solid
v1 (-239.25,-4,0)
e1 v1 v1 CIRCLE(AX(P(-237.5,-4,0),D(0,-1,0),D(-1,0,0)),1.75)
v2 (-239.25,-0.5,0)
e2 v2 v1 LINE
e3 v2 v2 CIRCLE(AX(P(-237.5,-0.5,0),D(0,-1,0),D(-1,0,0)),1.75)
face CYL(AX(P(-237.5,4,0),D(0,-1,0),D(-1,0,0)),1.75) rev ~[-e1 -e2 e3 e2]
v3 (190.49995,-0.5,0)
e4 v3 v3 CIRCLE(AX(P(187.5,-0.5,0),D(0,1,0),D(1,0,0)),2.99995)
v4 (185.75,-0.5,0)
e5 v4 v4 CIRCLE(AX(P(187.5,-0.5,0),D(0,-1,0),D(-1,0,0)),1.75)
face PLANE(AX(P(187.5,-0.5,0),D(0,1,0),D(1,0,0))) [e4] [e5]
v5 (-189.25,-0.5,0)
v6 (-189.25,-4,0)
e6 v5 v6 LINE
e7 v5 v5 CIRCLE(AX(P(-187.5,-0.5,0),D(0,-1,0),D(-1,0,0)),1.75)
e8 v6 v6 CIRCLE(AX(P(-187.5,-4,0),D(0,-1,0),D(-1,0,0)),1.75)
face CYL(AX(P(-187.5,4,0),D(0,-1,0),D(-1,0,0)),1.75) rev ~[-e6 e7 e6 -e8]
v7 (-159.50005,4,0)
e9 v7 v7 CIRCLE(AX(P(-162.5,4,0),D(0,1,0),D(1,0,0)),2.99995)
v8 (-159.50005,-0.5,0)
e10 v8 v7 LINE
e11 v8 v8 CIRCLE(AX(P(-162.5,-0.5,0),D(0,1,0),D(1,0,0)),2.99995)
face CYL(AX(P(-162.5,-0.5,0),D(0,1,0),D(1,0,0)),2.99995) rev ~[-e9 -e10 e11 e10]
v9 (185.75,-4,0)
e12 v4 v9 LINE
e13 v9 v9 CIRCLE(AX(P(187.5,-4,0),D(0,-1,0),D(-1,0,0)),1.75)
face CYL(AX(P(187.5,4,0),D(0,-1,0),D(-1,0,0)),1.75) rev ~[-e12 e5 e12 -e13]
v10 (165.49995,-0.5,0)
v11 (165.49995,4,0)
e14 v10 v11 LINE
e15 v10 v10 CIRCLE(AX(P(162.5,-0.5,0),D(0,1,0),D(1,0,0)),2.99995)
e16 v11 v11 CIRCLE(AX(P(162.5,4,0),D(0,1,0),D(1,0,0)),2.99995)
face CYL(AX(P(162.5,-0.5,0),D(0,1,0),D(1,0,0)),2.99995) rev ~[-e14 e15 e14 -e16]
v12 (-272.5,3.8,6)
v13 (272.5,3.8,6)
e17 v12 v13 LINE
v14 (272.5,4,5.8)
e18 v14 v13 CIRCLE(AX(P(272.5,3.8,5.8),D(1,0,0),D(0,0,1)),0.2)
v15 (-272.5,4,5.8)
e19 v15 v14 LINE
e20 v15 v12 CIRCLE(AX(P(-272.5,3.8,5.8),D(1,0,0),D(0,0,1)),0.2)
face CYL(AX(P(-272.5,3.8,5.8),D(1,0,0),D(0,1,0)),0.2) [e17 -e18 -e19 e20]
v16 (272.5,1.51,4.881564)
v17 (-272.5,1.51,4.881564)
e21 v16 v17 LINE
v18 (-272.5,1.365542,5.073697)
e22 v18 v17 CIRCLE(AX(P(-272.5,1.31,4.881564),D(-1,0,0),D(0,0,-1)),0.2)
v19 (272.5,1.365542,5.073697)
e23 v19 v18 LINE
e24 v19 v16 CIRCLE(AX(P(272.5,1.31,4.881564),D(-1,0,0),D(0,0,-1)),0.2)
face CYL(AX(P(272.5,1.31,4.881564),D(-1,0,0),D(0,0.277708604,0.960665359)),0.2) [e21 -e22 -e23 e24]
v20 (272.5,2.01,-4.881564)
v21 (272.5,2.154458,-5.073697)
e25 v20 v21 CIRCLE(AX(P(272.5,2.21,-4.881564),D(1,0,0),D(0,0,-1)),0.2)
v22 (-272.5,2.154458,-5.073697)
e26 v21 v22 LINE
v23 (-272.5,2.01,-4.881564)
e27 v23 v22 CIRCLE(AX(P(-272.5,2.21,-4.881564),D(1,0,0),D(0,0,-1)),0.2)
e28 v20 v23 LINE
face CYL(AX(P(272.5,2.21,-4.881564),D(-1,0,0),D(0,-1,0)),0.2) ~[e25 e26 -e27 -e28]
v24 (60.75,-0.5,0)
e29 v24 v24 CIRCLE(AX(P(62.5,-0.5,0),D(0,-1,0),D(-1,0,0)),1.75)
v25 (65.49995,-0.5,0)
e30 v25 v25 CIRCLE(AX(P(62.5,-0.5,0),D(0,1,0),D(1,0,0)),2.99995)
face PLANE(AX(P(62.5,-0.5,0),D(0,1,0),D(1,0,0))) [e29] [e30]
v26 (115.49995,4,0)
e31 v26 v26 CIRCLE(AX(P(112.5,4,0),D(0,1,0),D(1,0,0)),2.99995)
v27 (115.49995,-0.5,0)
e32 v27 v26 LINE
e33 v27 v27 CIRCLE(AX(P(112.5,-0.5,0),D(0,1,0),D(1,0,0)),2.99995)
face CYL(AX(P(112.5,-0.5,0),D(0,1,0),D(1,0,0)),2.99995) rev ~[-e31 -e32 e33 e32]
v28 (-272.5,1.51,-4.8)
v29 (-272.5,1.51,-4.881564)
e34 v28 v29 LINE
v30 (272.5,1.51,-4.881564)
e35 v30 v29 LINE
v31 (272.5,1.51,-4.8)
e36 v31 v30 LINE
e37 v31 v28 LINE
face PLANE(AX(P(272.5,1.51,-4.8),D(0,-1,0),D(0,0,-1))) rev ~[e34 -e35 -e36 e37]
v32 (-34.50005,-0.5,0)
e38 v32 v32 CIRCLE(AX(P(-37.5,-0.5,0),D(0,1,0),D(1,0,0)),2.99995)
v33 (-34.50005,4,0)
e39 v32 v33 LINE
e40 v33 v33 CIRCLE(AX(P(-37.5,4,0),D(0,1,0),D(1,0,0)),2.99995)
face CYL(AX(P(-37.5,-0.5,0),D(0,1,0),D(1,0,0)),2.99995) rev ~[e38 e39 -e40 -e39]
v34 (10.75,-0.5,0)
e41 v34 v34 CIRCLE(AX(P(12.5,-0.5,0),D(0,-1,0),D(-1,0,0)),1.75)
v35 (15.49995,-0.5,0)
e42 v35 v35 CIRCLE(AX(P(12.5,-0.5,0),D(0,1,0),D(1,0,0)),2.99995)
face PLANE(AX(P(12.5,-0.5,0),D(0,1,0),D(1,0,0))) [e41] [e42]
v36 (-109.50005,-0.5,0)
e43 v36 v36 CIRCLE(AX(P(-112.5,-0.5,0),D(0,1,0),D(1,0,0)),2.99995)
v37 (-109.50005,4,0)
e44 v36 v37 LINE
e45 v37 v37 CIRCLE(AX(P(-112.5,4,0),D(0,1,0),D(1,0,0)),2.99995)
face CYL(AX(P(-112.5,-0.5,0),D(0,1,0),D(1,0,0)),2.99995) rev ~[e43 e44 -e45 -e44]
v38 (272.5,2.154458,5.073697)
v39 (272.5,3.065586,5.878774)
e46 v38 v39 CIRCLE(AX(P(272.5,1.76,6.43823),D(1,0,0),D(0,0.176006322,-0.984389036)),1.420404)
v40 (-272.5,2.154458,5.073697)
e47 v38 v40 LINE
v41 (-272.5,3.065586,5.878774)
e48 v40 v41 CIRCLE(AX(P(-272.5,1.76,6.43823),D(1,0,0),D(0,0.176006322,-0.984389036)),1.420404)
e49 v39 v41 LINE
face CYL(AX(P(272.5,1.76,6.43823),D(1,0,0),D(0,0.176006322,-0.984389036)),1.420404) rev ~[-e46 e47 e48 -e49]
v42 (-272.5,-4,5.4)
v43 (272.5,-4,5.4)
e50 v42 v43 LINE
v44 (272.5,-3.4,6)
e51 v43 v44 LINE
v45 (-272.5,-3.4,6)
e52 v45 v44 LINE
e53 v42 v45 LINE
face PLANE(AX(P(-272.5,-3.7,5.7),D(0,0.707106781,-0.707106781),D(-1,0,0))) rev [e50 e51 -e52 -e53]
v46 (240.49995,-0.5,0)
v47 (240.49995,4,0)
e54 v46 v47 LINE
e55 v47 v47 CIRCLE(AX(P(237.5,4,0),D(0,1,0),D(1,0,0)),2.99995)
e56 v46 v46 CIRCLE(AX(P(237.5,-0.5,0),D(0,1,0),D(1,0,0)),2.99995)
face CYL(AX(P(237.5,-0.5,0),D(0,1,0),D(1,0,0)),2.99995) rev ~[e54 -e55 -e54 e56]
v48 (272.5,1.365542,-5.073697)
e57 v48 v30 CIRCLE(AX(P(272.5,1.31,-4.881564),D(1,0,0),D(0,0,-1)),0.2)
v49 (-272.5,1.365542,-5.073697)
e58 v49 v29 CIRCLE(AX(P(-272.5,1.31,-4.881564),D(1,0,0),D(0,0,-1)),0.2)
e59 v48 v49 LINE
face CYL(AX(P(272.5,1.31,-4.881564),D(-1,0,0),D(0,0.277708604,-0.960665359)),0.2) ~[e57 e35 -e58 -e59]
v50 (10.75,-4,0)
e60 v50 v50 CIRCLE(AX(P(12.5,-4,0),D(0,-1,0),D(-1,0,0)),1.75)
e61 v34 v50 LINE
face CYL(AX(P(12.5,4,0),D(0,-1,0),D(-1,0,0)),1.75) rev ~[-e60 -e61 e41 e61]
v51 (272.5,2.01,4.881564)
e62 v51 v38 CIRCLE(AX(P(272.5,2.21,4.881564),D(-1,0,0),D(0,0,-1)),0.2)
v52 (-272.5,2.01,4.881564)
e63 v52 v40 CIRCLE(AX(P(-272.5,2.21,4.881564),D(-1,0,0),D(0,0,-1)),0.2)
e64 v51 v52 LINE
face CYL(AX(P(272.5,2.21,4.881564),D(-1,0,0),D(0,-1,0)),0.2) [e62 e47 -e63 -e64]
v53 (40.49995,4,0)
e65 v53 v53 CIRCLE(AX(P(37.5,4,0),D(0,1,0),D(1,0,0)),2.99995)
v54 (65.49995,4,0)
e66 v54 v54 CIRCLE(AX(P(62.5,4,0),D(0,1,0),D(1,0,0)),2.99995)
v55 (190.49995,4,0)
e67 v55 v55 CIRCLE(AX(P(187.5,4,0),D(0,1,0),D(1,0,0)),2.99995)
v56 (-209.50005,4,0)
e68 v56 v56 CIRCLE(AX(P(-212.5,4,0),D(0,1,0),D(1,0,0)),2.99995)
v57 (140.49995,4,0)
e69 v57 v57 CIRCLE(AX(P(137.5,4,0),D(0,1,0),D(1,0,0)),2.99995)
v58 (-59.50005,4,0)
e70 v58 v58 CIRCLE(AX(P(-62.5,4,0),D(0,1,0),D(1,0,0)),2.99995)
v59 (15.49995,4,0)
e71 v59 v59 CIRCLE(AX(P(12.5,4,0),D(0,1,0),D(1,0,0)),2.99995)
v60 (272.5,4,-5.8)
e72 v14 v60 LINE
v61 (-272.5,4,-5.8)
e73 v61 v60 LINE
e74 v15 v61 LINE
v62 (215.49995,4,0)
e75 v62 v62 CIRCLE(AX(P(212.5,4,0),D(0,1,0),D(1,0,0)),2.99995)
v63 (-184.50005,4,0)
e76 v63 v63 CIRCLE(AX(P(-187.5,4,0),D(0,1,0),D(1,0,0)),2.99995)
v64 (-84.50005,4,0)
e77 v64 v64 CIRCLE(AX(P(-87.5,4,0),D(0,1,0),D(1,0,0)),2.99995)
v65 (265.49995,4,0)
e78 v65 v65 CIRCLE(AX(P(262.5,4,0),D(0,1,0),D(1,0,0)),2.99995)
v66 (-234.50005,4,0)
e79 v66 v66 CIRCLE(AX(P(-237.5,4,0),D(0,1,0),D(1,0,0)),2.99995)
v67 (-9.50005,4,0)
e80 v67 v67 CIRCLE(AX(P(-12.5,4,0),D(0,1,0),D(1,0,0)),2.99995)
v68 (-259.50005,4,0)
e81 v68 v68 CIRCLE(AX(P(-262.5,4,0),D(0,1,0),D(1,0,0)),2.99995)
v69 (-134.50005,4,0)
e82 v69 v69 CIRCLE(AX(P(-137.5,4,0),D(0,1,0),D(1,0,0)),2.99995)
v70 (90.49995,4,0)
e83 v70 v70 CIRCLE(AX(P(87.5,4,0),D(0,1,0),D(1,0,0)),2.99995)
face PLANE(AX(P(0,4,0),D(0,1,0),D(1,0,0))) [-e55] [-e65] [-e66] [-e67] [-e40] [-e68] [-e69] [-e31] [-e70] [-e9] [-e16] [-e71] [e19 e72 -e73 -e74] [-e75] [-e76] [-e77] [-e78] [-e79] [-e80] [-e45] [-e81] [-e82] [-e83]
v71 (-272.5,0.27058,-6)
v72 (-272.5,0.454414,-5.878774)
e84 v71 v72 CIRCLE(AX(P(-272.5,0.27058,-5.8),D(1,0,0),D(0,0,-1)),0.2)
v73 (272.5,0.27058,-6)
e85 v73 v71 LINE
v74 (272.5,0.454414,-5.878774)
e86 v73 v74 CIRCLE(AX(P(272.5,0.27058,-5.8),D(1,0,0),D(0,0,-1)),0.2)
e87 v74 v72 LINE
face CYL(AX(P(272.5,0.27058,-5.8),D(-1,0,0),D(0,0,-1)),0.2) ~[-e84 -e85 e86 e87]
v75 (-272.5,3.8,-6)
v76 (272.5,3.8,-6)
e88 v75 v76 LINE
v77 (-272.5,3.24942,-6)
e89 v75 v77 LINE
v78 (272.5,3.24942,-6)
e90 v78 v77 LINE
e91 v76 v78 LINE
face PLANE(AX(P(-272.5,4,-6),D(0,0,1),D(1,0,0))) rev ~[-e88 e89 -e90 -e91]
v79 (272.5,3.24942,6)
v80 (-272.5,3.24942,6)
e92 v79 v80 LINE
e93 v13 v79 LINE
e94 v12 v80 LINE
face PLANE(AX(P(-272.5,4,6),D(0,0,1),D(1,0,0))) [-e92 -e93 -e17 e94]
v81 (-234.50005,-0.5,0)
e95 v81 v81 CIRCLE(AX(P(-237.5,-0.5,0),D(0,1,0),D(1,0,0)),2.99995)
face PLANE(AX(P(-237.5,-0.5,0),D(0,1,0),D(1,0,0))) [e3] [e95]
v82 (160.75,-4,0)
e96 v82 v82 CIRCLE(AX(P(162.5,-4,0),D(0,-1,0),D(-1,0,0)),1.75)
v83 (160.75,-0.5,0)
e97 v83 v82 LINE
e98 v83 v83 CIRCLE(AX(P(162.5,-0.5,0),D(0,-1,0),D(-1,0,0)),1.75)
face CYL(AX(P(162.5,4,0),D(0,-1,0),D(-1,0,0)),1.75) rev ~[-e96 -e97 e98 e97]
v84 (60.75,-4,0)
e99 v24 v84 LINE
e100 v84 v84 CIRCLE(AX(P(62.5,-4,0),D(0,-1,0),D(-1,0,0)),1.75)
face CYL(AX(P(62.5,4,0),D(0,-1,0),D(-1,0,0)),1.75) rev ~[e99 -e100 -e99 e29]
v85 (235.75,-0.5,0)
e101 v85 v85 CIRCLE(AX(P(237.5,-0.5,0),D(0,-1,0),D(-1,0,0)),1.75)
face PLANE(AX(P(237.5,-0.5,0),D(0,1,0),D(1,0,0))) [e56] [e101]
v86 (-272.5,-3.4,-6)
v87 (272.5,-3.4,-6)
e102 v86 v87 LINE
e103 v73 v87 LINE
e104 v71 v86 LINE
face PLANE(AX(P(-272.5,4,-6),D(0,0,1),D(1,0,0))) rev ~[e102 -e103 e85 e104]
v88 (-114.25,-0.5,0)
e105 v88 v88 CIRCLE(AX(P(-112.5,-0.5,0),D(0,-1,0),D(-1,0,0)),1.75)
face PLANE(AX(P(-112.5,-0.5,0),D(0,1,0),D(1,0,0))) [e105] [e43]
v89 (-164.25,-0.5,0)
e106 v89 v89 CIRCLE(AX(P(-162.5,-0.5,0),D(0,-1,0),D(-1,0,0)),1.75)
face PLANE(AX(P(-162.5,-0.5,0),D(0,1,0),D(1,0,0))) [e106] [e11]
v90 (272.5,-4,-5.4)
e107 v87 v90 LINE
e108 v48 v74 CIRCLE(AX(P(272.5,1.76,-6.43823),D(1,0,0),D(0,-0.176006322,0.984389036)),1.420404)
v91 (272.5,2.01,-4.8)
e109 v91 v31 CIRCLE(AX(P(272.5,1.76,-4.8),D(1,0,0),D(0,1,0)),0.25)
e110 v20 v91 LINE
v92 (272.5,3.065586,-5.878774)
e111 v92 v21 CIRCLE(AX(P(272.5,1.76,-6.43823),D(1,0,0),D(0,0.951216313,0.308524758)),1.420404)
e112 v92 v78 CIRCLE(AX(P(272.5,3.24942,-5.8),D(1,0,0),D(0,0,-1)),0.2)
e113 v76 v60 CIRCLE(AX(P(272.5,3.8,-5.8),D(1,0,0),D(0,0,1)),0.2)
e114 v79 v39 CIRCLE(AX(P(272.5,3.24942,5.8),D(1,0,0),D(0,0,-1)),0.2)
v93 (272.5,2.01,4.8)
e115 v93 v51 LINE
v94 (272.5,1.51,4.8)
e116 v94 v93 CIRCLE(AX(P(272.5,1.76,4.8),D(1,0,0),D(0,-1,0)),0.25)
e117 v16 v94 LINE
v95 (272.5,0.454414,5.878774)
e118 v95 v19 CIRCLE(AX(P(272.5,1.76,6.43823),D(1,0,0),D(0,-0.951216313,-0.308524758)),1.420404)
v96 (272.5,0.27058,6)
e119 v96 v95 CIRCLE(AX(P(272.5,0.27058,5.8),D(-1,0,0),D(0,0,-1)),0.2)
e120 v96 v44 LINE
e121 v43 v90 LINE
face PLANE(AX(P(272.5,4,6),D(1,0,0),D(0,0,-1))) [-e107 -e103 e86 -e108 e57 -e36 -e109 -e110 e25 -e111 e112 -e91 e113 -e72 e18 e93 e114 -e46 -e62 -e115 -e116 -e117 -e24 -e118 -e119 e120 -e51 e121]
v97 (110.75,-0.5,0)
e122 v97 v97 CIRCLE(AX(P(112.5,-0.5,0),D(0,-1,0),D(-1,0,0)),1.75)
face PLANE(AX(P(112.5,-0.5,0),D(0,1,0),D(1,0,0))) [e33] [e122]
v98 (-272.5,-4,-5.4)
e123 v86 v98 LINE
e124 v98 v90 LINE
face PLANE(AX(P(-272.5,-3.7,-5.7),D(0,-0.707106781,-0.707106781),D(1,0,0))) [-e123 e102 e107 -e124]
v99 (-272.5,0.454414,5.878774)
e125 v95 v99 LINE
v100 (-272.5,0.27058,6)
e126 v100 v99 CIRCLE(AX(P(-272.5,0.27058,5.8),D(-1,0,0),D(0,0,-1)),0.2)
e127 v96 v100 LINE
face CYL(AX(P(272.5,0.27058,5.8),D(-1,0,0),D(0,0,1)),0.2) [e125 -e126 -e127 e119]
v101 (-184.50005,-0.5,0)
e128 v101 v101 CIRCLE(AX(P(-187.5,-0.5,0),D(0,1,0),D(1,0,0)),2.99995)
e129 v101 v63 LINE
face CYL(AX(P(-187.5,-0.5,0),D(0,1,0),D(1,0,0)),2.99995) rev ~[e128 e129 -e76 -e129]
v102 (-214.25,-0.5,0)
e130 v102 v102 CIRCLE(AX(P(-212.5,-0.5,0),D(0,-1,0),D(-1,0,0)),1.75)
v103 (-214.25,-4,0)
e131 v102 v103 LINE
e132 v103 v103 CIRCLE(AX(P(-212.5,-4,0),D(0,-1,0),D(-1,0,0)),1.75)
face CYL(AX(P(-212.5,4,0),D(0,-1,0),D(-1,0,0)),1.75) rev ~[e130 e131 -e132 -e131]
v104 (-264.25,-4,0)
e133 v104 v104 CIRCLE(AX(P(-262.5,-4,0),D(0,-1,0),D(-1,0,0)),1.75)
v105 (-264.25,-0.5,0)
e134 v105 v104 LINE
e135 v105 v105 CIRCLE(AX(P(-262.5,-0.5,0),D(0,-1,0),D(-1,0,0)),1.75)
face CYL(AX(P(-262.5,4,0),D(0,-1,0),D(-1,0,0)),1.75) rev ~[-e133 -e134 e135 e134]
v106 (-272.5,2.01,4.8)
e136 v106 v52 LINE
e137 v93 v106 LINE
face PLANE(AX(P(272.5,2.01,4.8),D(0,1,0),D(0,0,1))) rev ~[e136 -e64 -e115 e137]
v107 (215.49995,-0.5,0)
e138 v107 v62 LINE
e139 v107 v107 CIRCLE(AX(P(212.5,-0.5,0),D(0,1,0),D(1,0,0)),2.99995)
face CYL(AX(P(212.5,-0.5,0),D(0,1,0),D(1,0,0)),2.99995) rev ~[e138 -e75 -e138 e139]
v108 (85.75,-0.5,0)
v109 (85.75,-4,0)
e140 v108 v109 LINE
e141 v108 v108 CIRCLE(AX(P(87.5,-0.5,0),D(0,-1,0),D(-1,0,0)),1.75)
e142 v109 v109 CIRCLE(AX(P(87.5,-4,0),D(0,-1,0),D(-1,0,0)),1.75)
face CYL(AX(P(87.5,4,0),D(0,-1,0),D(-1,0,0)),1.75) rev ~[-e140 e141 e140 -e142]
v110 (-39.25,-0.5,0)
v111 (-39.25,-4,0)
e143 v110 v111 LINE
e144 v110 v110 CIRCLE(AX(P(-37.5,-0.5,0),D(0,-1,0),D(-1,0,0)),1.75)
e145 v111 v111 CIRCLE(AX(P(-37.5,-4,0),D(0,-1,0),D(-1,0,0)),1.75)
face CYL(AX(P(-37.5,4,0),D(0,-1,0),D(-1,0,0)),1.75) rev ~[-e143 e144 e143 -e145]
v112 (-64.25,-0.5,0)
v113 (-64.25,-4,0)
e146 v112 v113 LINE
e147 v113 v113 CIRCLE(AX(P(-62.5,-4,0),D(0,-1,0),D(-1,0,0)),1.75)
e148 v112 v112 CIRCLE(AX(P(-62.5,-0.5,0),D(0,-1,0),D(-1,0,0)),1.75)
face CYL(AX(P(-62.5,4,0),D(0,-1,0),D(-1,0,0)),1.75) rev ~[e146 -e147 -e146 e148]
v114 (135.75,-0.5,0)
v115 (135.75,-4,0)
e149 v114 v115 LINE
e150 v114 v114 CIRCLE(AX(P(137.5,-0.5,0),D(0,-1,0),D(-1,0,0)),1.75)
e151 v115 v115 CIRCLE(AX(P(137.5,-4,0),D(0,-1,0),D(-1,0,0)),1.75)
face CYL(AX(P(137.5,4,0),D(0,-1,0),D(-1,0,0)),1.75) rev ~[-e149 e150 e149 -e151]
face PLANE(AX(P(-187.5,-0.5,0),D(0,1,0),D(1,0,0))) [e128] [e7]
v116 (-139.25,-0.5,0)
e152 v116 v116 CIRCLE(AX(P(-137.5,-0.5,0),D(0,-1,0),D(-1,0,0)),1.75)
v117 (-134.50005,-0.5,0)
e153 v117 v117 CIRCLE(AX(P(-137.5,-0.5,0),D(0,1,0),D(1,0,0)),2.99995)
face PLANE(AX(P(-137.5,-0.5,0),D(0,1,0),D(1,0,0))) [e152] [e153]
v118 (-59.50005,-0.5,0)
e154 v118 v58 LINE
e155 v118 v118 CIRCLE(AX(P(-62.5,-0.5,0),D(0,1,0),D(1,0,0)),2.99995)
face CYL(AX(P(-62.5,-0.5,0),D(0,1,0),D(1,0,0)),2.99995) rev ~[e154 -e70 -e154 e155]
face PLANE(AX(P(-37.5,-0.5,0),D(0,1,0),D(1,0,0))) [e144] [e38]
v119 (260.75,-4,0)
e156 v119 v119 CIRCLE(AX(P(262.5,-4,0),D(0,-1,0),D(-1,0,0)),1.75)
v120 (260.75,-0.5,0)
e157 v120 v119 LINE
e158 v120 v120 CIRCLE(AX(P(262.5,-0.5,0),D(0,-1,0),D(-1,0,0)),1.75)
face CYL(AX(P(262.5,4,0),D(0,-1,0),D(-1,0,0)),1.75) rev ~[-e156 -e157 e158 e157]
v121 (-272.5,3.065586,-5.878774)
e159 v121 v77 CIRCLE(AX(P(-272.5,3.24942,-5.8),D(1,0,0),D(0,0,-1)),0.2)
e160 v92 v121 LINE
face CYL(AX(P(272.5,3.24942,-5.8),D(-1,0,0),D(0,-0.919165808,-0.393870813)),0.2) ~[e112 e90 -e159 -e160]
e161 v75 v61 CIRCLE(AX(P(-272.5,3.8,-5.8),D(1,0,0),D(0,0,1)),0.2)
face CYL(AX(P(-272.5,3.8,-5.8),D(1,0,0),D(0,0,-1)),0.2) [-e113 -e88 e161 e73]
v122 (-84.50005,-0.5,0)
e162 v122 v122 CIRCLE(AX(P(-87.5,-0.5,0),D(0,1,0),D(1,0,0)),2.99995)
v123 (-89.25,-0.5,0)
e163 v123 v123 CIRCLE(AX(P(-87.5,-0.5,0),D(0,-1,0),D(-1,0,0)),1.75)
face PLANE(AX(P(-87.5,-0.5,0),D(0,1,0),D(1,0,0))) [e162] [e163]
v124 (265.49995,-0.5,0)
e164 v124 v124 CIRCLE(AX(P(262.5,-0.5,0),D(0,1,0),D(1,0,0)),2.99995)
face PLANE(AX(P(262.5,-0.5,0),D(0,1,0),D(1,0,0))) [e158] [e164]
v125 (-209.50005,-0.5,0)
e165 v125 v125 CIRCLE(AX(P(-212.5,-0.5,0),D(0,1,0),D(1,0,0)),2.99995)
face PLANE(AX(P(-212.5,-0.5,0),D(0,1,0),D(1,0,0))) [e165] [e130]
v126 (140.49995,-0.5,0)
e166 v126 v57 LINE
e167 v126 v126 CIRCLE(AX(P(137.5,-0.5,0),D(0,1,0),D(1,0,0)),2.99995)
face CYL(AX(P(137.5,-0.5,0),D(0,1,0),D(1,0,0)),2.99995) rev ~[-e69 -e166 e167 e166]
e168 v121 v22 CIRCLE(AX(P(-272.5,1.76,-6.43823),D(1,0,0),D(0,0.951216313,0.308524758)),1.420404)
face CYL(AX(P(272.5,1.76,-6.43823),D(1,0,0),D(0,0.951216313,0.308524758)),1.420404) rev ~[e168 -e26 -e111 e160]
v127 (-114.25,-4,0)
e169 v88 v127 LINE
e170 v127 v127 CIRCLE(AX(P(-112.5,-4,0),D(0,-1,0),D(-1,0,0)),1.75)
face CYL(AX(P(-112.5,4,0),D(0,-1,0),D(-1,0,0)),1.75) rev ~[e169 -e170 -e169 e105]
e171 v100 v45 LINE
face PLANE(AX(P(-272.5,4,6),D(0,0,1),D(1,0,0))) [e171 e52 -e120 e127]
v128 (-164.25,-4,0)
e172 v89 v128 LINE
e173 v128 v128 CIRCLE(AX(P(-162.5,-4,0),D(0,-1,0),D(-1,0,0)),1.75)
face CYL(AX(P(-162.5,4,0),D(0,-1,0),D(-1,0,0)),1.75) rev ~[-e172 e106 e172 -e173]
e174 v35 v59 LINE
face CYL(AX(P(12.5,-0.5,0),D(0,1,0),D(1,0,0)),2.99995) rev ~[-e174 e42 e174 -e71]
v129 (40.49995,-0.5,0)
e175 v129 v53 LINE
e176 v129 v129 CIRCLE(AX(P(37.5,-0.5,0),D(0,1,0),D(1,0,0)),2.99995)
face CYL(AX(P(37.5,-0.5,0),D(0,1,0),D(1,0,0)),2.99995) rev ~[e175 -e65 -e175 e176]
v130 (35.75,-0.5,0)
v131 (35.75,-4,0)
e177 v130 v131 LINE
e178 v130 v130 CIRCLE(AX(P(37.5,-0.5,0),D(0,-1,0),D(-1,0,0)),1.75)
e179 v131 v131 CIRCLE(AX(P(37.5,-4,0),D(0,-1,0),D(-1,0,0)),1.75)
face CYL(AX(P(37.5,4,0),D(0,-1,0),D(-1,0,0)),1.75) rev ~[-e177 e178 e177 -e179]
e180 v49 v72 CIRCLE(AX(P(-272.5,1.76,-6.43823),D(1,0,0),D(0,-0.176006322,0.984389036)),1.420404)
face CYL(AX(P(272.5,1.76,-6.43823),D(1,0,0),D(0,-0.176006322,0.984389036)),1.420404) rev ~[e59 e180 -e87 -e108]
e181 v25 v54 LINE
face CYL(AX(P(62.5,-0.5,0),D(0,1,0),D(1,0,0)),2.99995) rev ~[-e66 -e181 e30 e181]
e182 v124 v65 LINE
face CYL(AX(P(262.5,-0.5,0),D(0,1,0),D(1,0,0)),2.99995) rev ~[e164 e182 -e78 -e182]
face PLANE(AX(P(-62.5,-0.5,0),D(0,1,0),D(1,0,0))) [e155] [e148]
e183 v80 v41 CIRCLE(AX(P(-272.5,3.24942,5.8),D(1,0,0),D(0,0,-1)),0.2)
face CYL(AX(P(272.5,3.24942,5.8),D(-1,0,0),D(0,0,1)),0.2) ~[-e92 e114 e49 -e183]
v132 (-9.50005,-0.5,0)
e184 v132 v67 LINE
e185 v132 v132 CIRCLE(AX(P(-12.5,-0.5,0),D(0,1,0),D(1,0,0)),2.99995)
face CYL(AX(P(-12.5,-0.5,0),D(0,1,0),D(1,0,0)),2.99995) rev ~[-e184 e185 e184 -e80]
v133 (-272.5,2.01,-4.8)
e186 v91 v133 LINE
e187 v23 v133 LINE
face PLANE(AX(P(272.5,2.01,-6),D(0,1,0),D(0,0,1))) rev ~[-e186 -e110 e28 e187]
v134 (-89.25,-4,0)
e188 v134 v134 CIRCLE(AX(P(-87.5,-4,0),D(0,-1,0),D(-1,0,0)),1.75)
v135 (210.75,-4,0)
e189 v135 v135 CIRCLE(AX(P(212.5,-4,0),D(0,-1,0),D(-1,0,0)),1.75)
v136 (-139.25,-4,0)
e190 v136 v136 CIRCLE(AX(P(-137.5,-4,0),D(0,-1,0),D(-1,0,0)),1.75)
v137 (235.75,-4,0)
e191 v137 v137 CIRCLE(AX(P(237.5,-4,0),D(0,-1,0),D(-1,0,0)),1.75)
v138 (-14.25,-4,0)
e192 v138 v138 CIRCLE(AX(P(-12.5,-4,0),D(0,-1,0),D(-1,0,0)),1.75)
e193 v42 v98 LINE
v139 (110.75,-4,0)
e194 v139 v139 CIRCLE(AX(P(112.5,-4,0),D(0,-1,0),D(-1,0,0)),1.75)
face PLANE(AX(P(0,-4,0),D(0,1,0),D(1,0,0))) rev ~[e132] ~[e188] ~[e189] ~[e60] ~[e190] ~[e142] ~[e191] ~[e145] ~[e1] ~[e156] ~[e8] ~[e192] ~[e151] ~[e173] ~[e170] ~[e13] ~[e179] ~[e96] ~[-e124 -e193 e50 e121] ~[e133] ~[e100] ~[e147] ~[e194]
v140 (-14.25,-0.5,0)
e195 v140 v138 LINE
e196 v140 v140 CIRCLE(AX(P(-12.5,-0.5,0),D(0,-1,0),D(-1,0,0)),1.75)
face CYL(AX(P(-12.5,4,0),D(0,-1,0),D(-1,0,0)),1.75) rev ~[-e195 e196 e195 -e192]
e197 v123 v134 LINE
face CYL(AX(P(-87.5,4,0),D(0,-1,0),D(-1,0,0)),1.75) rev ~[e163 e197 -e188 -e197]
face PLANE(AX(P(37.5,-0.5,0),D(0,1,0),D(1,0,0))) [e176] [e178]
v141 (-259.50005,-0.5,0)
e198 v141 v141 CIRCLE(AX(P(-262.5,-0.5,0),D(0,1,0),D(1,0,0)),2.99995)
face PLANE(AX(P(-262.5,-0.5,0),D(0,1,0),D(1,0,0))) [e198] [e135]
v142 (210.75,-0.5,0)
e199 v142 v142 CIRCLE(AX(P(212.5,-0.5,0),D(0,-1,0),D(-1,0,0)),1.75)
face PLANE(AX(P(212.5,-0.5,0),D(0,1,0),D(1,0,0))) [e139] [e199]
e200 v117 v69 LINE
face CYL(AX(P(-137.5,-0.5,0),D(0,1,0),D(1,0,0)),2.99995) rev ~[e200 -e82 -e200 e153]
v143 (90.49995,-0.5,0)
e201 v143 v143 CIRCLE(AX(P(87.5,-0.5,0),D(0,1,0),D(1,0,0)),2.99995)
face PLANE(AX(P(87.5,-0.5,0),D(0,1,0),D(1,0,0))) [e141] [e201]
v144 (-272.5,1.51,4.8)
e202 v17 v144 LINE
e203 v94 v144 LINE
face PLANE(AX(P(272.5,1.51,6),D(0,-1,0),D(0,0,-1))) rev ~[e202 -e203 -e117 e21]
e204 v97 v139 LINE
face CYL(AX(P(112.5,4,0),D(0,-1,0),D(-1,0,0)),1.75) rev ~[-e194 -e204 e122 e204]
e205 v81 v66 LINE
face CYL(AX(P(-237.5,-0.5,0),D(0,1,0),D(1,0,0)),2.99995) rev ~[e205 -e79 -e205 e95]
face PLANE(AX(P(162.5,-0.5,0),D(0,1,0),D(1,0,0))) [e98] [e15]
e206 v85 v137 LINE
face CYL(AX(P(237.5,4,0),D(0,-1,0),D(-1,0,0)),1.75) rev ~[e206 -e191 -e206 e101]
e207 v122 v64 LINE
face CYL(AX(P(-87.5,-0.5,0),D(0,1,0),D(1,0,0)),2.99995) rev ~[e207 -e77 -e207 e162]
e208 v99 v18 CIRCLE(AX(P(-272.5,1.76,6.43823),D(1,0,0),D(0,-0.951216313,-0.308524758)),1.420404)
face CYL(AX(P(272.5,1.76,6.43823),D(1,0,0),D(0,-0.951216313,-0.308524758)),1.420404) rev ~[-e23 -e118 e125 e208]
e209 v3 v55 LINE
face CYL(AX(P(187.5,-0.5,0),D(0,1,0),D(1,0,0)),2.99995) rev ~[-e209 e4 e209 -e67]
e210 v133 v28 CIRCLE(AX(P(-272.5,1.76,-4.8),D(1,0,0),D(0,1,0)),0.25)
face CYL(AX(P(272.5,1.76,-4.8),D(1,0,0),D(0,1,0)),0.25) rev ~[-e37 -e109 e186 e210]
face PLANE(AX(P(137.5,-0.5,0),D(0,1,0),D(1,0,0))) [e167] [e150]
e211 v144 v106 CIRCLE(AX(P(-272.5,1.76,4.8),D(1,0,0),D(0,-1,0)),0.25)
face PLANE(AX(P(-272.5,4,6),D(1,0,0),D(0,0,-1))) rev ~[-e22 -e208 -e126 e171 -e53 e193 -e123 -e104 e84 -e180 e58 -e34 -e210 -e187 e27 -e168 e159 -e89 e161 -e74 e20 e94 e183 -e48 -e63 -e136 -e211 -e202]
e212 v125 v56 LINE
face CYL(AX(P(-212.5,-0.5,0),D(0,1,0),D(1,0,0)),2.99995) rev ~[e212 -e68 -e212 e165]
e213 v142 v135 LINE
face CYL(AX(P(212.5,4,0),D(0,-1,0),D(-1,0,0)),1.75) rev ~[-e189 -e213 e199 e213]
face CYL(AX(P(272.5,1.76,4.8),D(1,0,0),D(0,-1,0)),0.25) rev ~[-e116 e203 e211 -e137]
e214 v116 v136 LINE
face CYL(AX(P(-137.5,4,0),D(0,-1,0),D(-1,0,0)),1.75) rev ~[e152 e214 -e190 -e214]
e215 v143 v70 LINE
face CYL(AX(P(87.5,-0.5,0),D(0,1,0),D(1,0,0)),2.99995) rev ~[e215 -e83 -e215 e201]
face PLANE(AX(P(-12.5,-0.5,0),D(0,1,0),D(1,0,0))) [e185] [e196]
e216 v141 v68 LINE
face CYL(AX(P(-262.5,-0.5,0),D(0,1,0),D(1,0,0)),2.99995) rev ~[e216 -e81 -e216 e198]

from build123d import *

# Parameters (mm, degrees)
SKETCH_1_W                   = 545
SKETCH_1_H                   = 12
EXTRUDE_1_DEPTH              = 8
CUT_EXTRUDE_1_DEPTH          = 546.047704334
CUT_EXTRUDE_2_DEPTH          = 546.047704334
CUT_EXTRUDE_3_DEPTH          = 546.047704334
CUT_EXTRUDE_4_DEPTH          = 546.047704334
CUT_EXTRUDE_5_DEPTH          = 546.047704334
CUT_EXTRUDE_6_DEPTH          = 546.047704334
HOLE_WIZARD_M3_1_D           = 3.5
HOLE_WIZARD_M3_1_CBORE_D     = 5.9999
HOLE_WIZARD_M3_1_CBORE_DEPTH = 4.5
CHAMFER_1_SIZE               = 0.6
FILLET_1_R                   = 0.2


with BuildPart() as part:
    # 草图1 → 凸台-拉伸1 (new body)
    with BuildSketch(Plane(origin=(0, 4, 0), x_dir=(1, 0, 0), z_dir=(0, 1, 0))):
        Rectangle(SKETCH_1_W, SKETCH_1_H)
    extrude(amount=-EXTRUDE_1_DEPTH)

    # 草图2 → 切除-拉伸1 (cut, through all)
    with BuildSketch(Plane(origin=(272.5, 0, 0), x_dir=(0, 0, -1), z_dir=(1, 0, 0))):
        with BuildLine():
            Line((6, 1.51), (6, 2.01))
            Line((6, 2.01), (4.8, 2.01))
            ThreePointArc((4.8, 2.01), (4.55, 1.76), (4.8, 1.51))
            Line((4.8, 1.51), (6, 1.51))
        make_face()
    extrude(amount=-CUT_EXTRUDE_1_DEPTH, mode=Mode.SUBTRACT)

    # 草图3 → 切除-拉伸2 (cut, through all)
    with BuildSketch(Plane(origin=(272.5, 0, 0), x_dir=(0, 0, -1), z_dir=(1, 0, 0))):
        with BuildLine():
            Line((6, 2.01), (6, 3.111111))
            ThreePointArc((6, 3.111111), (5.367595703, 2.693428684), (5.04, 2.01))
            Line((5.04, 2.01), (6, 2.01))
        make_face()
    extrude(amount=-CUT_EXTRUDE_2_DEPTH, mode=Mode.SUBTRACT)

    # 草图4 → 切除-拉伸3 (cut, through all)
    with BuildSketch(Plane(origin=(272.5, 0, 0), x_dir=(0, 0, -1), z_dir=(1, 0, 0))):
        with BuildLine():
            Line((6, 1.51), (5.04, 1.51))
            ThreePointArc((5.04, 1.51), (5.367595703, 0.826571316), (6, 0.408889))
            Line((6, 0.408889), (6, 1.51))
        make_face()
    extrude(amount=-CUT_EXTRUDE_3_DEPTH, mode=Mode.SUBTRACT)

    # 草图5 → 切除-拉伸4 (cut, through all)
    with BuildSketch(Plane(origin=(272.5, 0, 0), x_dir=(0, 0, -1), z_dir=(1, 0, 0))):
        with BuildLine():
            Line((-6, 2.01), (-6, 1.51))
            Line((-6, 1.51), (-4.8, 1.51))
            ThreePointArc((-4.8, 1.51), (-4.55, 1.76), (-4.8, 2.01))
            Line((-4.8, 2.01), (-6, 2.01))
        make_face()
    extrude(amount=-CUT_EXTRUDE_4_DEPTH, mode=Mode.SUBTRACT)

    # 草图6 → 切除-拉伸5 (cut, through all)
    with BuildSketch(Plane(origin=(272.5, 0, 0), x_dir=(0, 0, -1), z_dir=(1, 0, 0))):
        with BuildLine():
            Line((-6, 1.51), (-6, 0.408889))
            ThreePointArc((-6, 0.408889), (-5.367595703, 0.826571316), (-5.04, 1.51))
            Line((-5.04, 1.51), (-6, 1.51))
        make_face()
    extrude(amount=-CUT_EXTRUDE_5_DEPTH, mode=Mode.SUBTRACT)

    # 草图7 → 切除-拉伸6 (cut, through all)
    with BuildSketch(Plane(origin=(272.5, 0, 0), x_dir=(0, 0, -1), z_dir=(1, 0, 0))):
        with BuildLine():
            Line((-6, 2.01), (-5.04, 2.01))
            ThreePointArc((-5.04, 2.01), (-5.367595703, 2.693428684), (-6, 3.111111))
            Line((-6, 3.111111), (-6, 2.01))
        make_face()
    extrude(amount=-CUT_EXTRUDE_6_DEPTH, mode=Mode.SUBTRACT)

    # M3 六角头机械螺钉的柱形沉头孔1 (through all)
    with Locations(Plane(origin=(0, 4, 0), x_dir=(1, 0, 0), z_dir=(0, 1, 0))):
        with Locations((-262.5, 0), (-237.5, 0), (-212.5, 0), (-187.5, 0), (-162.5, 0), (-137.5, 0), (-112.5, 0), (-87.5, 0), (-62.5, 0), (-37.5, 0), (-12.5, 0), (12.5, 0), (37.5, 0), (62.5, 0), (87.5, 0), (112.5, 0), (137.5, 0), (162.5, 0), (187.5, 0), (212.5, 0), (237.5, 0), (262.5, 0)):
            CounterBoreHole(HOLE_WIZARD_M3_1_D / 2, HOLE_WIZARD_M3_1_CBORE_D / 2, HOLE_WIZARD_M3_1_CBORE_DEPTH)

    # 倒角1
    chamfer_1_edges = [part.edges().sort_by_distance(p)[0] for p in [
        (0, -4, -6),
        (0, -4, 6),
    ]]
    chamfer(chamfer_1_edges, length=CHAMFER_1_SIZE)

    # 圆角1
    fillet_1_edges = [part.edges().sort_by_distance(p)[0] for p in [
        (0, 2.01, -5.04),
        (0, 3.111111, -6),
        (0, 0.408889, -6),
        (0, 1.51, -5.04),
        (0, 4, -6),
        (0, 4, 6),
        (0, 1.51, 5.04),
        (0, 0.408889, 6),
        (0, 3.111111, 6),
        (0, 2.01, 5.04),
    ]]
    fillet(fillet_1_edges, radius=FILLET_1_R)


solid = part.part
